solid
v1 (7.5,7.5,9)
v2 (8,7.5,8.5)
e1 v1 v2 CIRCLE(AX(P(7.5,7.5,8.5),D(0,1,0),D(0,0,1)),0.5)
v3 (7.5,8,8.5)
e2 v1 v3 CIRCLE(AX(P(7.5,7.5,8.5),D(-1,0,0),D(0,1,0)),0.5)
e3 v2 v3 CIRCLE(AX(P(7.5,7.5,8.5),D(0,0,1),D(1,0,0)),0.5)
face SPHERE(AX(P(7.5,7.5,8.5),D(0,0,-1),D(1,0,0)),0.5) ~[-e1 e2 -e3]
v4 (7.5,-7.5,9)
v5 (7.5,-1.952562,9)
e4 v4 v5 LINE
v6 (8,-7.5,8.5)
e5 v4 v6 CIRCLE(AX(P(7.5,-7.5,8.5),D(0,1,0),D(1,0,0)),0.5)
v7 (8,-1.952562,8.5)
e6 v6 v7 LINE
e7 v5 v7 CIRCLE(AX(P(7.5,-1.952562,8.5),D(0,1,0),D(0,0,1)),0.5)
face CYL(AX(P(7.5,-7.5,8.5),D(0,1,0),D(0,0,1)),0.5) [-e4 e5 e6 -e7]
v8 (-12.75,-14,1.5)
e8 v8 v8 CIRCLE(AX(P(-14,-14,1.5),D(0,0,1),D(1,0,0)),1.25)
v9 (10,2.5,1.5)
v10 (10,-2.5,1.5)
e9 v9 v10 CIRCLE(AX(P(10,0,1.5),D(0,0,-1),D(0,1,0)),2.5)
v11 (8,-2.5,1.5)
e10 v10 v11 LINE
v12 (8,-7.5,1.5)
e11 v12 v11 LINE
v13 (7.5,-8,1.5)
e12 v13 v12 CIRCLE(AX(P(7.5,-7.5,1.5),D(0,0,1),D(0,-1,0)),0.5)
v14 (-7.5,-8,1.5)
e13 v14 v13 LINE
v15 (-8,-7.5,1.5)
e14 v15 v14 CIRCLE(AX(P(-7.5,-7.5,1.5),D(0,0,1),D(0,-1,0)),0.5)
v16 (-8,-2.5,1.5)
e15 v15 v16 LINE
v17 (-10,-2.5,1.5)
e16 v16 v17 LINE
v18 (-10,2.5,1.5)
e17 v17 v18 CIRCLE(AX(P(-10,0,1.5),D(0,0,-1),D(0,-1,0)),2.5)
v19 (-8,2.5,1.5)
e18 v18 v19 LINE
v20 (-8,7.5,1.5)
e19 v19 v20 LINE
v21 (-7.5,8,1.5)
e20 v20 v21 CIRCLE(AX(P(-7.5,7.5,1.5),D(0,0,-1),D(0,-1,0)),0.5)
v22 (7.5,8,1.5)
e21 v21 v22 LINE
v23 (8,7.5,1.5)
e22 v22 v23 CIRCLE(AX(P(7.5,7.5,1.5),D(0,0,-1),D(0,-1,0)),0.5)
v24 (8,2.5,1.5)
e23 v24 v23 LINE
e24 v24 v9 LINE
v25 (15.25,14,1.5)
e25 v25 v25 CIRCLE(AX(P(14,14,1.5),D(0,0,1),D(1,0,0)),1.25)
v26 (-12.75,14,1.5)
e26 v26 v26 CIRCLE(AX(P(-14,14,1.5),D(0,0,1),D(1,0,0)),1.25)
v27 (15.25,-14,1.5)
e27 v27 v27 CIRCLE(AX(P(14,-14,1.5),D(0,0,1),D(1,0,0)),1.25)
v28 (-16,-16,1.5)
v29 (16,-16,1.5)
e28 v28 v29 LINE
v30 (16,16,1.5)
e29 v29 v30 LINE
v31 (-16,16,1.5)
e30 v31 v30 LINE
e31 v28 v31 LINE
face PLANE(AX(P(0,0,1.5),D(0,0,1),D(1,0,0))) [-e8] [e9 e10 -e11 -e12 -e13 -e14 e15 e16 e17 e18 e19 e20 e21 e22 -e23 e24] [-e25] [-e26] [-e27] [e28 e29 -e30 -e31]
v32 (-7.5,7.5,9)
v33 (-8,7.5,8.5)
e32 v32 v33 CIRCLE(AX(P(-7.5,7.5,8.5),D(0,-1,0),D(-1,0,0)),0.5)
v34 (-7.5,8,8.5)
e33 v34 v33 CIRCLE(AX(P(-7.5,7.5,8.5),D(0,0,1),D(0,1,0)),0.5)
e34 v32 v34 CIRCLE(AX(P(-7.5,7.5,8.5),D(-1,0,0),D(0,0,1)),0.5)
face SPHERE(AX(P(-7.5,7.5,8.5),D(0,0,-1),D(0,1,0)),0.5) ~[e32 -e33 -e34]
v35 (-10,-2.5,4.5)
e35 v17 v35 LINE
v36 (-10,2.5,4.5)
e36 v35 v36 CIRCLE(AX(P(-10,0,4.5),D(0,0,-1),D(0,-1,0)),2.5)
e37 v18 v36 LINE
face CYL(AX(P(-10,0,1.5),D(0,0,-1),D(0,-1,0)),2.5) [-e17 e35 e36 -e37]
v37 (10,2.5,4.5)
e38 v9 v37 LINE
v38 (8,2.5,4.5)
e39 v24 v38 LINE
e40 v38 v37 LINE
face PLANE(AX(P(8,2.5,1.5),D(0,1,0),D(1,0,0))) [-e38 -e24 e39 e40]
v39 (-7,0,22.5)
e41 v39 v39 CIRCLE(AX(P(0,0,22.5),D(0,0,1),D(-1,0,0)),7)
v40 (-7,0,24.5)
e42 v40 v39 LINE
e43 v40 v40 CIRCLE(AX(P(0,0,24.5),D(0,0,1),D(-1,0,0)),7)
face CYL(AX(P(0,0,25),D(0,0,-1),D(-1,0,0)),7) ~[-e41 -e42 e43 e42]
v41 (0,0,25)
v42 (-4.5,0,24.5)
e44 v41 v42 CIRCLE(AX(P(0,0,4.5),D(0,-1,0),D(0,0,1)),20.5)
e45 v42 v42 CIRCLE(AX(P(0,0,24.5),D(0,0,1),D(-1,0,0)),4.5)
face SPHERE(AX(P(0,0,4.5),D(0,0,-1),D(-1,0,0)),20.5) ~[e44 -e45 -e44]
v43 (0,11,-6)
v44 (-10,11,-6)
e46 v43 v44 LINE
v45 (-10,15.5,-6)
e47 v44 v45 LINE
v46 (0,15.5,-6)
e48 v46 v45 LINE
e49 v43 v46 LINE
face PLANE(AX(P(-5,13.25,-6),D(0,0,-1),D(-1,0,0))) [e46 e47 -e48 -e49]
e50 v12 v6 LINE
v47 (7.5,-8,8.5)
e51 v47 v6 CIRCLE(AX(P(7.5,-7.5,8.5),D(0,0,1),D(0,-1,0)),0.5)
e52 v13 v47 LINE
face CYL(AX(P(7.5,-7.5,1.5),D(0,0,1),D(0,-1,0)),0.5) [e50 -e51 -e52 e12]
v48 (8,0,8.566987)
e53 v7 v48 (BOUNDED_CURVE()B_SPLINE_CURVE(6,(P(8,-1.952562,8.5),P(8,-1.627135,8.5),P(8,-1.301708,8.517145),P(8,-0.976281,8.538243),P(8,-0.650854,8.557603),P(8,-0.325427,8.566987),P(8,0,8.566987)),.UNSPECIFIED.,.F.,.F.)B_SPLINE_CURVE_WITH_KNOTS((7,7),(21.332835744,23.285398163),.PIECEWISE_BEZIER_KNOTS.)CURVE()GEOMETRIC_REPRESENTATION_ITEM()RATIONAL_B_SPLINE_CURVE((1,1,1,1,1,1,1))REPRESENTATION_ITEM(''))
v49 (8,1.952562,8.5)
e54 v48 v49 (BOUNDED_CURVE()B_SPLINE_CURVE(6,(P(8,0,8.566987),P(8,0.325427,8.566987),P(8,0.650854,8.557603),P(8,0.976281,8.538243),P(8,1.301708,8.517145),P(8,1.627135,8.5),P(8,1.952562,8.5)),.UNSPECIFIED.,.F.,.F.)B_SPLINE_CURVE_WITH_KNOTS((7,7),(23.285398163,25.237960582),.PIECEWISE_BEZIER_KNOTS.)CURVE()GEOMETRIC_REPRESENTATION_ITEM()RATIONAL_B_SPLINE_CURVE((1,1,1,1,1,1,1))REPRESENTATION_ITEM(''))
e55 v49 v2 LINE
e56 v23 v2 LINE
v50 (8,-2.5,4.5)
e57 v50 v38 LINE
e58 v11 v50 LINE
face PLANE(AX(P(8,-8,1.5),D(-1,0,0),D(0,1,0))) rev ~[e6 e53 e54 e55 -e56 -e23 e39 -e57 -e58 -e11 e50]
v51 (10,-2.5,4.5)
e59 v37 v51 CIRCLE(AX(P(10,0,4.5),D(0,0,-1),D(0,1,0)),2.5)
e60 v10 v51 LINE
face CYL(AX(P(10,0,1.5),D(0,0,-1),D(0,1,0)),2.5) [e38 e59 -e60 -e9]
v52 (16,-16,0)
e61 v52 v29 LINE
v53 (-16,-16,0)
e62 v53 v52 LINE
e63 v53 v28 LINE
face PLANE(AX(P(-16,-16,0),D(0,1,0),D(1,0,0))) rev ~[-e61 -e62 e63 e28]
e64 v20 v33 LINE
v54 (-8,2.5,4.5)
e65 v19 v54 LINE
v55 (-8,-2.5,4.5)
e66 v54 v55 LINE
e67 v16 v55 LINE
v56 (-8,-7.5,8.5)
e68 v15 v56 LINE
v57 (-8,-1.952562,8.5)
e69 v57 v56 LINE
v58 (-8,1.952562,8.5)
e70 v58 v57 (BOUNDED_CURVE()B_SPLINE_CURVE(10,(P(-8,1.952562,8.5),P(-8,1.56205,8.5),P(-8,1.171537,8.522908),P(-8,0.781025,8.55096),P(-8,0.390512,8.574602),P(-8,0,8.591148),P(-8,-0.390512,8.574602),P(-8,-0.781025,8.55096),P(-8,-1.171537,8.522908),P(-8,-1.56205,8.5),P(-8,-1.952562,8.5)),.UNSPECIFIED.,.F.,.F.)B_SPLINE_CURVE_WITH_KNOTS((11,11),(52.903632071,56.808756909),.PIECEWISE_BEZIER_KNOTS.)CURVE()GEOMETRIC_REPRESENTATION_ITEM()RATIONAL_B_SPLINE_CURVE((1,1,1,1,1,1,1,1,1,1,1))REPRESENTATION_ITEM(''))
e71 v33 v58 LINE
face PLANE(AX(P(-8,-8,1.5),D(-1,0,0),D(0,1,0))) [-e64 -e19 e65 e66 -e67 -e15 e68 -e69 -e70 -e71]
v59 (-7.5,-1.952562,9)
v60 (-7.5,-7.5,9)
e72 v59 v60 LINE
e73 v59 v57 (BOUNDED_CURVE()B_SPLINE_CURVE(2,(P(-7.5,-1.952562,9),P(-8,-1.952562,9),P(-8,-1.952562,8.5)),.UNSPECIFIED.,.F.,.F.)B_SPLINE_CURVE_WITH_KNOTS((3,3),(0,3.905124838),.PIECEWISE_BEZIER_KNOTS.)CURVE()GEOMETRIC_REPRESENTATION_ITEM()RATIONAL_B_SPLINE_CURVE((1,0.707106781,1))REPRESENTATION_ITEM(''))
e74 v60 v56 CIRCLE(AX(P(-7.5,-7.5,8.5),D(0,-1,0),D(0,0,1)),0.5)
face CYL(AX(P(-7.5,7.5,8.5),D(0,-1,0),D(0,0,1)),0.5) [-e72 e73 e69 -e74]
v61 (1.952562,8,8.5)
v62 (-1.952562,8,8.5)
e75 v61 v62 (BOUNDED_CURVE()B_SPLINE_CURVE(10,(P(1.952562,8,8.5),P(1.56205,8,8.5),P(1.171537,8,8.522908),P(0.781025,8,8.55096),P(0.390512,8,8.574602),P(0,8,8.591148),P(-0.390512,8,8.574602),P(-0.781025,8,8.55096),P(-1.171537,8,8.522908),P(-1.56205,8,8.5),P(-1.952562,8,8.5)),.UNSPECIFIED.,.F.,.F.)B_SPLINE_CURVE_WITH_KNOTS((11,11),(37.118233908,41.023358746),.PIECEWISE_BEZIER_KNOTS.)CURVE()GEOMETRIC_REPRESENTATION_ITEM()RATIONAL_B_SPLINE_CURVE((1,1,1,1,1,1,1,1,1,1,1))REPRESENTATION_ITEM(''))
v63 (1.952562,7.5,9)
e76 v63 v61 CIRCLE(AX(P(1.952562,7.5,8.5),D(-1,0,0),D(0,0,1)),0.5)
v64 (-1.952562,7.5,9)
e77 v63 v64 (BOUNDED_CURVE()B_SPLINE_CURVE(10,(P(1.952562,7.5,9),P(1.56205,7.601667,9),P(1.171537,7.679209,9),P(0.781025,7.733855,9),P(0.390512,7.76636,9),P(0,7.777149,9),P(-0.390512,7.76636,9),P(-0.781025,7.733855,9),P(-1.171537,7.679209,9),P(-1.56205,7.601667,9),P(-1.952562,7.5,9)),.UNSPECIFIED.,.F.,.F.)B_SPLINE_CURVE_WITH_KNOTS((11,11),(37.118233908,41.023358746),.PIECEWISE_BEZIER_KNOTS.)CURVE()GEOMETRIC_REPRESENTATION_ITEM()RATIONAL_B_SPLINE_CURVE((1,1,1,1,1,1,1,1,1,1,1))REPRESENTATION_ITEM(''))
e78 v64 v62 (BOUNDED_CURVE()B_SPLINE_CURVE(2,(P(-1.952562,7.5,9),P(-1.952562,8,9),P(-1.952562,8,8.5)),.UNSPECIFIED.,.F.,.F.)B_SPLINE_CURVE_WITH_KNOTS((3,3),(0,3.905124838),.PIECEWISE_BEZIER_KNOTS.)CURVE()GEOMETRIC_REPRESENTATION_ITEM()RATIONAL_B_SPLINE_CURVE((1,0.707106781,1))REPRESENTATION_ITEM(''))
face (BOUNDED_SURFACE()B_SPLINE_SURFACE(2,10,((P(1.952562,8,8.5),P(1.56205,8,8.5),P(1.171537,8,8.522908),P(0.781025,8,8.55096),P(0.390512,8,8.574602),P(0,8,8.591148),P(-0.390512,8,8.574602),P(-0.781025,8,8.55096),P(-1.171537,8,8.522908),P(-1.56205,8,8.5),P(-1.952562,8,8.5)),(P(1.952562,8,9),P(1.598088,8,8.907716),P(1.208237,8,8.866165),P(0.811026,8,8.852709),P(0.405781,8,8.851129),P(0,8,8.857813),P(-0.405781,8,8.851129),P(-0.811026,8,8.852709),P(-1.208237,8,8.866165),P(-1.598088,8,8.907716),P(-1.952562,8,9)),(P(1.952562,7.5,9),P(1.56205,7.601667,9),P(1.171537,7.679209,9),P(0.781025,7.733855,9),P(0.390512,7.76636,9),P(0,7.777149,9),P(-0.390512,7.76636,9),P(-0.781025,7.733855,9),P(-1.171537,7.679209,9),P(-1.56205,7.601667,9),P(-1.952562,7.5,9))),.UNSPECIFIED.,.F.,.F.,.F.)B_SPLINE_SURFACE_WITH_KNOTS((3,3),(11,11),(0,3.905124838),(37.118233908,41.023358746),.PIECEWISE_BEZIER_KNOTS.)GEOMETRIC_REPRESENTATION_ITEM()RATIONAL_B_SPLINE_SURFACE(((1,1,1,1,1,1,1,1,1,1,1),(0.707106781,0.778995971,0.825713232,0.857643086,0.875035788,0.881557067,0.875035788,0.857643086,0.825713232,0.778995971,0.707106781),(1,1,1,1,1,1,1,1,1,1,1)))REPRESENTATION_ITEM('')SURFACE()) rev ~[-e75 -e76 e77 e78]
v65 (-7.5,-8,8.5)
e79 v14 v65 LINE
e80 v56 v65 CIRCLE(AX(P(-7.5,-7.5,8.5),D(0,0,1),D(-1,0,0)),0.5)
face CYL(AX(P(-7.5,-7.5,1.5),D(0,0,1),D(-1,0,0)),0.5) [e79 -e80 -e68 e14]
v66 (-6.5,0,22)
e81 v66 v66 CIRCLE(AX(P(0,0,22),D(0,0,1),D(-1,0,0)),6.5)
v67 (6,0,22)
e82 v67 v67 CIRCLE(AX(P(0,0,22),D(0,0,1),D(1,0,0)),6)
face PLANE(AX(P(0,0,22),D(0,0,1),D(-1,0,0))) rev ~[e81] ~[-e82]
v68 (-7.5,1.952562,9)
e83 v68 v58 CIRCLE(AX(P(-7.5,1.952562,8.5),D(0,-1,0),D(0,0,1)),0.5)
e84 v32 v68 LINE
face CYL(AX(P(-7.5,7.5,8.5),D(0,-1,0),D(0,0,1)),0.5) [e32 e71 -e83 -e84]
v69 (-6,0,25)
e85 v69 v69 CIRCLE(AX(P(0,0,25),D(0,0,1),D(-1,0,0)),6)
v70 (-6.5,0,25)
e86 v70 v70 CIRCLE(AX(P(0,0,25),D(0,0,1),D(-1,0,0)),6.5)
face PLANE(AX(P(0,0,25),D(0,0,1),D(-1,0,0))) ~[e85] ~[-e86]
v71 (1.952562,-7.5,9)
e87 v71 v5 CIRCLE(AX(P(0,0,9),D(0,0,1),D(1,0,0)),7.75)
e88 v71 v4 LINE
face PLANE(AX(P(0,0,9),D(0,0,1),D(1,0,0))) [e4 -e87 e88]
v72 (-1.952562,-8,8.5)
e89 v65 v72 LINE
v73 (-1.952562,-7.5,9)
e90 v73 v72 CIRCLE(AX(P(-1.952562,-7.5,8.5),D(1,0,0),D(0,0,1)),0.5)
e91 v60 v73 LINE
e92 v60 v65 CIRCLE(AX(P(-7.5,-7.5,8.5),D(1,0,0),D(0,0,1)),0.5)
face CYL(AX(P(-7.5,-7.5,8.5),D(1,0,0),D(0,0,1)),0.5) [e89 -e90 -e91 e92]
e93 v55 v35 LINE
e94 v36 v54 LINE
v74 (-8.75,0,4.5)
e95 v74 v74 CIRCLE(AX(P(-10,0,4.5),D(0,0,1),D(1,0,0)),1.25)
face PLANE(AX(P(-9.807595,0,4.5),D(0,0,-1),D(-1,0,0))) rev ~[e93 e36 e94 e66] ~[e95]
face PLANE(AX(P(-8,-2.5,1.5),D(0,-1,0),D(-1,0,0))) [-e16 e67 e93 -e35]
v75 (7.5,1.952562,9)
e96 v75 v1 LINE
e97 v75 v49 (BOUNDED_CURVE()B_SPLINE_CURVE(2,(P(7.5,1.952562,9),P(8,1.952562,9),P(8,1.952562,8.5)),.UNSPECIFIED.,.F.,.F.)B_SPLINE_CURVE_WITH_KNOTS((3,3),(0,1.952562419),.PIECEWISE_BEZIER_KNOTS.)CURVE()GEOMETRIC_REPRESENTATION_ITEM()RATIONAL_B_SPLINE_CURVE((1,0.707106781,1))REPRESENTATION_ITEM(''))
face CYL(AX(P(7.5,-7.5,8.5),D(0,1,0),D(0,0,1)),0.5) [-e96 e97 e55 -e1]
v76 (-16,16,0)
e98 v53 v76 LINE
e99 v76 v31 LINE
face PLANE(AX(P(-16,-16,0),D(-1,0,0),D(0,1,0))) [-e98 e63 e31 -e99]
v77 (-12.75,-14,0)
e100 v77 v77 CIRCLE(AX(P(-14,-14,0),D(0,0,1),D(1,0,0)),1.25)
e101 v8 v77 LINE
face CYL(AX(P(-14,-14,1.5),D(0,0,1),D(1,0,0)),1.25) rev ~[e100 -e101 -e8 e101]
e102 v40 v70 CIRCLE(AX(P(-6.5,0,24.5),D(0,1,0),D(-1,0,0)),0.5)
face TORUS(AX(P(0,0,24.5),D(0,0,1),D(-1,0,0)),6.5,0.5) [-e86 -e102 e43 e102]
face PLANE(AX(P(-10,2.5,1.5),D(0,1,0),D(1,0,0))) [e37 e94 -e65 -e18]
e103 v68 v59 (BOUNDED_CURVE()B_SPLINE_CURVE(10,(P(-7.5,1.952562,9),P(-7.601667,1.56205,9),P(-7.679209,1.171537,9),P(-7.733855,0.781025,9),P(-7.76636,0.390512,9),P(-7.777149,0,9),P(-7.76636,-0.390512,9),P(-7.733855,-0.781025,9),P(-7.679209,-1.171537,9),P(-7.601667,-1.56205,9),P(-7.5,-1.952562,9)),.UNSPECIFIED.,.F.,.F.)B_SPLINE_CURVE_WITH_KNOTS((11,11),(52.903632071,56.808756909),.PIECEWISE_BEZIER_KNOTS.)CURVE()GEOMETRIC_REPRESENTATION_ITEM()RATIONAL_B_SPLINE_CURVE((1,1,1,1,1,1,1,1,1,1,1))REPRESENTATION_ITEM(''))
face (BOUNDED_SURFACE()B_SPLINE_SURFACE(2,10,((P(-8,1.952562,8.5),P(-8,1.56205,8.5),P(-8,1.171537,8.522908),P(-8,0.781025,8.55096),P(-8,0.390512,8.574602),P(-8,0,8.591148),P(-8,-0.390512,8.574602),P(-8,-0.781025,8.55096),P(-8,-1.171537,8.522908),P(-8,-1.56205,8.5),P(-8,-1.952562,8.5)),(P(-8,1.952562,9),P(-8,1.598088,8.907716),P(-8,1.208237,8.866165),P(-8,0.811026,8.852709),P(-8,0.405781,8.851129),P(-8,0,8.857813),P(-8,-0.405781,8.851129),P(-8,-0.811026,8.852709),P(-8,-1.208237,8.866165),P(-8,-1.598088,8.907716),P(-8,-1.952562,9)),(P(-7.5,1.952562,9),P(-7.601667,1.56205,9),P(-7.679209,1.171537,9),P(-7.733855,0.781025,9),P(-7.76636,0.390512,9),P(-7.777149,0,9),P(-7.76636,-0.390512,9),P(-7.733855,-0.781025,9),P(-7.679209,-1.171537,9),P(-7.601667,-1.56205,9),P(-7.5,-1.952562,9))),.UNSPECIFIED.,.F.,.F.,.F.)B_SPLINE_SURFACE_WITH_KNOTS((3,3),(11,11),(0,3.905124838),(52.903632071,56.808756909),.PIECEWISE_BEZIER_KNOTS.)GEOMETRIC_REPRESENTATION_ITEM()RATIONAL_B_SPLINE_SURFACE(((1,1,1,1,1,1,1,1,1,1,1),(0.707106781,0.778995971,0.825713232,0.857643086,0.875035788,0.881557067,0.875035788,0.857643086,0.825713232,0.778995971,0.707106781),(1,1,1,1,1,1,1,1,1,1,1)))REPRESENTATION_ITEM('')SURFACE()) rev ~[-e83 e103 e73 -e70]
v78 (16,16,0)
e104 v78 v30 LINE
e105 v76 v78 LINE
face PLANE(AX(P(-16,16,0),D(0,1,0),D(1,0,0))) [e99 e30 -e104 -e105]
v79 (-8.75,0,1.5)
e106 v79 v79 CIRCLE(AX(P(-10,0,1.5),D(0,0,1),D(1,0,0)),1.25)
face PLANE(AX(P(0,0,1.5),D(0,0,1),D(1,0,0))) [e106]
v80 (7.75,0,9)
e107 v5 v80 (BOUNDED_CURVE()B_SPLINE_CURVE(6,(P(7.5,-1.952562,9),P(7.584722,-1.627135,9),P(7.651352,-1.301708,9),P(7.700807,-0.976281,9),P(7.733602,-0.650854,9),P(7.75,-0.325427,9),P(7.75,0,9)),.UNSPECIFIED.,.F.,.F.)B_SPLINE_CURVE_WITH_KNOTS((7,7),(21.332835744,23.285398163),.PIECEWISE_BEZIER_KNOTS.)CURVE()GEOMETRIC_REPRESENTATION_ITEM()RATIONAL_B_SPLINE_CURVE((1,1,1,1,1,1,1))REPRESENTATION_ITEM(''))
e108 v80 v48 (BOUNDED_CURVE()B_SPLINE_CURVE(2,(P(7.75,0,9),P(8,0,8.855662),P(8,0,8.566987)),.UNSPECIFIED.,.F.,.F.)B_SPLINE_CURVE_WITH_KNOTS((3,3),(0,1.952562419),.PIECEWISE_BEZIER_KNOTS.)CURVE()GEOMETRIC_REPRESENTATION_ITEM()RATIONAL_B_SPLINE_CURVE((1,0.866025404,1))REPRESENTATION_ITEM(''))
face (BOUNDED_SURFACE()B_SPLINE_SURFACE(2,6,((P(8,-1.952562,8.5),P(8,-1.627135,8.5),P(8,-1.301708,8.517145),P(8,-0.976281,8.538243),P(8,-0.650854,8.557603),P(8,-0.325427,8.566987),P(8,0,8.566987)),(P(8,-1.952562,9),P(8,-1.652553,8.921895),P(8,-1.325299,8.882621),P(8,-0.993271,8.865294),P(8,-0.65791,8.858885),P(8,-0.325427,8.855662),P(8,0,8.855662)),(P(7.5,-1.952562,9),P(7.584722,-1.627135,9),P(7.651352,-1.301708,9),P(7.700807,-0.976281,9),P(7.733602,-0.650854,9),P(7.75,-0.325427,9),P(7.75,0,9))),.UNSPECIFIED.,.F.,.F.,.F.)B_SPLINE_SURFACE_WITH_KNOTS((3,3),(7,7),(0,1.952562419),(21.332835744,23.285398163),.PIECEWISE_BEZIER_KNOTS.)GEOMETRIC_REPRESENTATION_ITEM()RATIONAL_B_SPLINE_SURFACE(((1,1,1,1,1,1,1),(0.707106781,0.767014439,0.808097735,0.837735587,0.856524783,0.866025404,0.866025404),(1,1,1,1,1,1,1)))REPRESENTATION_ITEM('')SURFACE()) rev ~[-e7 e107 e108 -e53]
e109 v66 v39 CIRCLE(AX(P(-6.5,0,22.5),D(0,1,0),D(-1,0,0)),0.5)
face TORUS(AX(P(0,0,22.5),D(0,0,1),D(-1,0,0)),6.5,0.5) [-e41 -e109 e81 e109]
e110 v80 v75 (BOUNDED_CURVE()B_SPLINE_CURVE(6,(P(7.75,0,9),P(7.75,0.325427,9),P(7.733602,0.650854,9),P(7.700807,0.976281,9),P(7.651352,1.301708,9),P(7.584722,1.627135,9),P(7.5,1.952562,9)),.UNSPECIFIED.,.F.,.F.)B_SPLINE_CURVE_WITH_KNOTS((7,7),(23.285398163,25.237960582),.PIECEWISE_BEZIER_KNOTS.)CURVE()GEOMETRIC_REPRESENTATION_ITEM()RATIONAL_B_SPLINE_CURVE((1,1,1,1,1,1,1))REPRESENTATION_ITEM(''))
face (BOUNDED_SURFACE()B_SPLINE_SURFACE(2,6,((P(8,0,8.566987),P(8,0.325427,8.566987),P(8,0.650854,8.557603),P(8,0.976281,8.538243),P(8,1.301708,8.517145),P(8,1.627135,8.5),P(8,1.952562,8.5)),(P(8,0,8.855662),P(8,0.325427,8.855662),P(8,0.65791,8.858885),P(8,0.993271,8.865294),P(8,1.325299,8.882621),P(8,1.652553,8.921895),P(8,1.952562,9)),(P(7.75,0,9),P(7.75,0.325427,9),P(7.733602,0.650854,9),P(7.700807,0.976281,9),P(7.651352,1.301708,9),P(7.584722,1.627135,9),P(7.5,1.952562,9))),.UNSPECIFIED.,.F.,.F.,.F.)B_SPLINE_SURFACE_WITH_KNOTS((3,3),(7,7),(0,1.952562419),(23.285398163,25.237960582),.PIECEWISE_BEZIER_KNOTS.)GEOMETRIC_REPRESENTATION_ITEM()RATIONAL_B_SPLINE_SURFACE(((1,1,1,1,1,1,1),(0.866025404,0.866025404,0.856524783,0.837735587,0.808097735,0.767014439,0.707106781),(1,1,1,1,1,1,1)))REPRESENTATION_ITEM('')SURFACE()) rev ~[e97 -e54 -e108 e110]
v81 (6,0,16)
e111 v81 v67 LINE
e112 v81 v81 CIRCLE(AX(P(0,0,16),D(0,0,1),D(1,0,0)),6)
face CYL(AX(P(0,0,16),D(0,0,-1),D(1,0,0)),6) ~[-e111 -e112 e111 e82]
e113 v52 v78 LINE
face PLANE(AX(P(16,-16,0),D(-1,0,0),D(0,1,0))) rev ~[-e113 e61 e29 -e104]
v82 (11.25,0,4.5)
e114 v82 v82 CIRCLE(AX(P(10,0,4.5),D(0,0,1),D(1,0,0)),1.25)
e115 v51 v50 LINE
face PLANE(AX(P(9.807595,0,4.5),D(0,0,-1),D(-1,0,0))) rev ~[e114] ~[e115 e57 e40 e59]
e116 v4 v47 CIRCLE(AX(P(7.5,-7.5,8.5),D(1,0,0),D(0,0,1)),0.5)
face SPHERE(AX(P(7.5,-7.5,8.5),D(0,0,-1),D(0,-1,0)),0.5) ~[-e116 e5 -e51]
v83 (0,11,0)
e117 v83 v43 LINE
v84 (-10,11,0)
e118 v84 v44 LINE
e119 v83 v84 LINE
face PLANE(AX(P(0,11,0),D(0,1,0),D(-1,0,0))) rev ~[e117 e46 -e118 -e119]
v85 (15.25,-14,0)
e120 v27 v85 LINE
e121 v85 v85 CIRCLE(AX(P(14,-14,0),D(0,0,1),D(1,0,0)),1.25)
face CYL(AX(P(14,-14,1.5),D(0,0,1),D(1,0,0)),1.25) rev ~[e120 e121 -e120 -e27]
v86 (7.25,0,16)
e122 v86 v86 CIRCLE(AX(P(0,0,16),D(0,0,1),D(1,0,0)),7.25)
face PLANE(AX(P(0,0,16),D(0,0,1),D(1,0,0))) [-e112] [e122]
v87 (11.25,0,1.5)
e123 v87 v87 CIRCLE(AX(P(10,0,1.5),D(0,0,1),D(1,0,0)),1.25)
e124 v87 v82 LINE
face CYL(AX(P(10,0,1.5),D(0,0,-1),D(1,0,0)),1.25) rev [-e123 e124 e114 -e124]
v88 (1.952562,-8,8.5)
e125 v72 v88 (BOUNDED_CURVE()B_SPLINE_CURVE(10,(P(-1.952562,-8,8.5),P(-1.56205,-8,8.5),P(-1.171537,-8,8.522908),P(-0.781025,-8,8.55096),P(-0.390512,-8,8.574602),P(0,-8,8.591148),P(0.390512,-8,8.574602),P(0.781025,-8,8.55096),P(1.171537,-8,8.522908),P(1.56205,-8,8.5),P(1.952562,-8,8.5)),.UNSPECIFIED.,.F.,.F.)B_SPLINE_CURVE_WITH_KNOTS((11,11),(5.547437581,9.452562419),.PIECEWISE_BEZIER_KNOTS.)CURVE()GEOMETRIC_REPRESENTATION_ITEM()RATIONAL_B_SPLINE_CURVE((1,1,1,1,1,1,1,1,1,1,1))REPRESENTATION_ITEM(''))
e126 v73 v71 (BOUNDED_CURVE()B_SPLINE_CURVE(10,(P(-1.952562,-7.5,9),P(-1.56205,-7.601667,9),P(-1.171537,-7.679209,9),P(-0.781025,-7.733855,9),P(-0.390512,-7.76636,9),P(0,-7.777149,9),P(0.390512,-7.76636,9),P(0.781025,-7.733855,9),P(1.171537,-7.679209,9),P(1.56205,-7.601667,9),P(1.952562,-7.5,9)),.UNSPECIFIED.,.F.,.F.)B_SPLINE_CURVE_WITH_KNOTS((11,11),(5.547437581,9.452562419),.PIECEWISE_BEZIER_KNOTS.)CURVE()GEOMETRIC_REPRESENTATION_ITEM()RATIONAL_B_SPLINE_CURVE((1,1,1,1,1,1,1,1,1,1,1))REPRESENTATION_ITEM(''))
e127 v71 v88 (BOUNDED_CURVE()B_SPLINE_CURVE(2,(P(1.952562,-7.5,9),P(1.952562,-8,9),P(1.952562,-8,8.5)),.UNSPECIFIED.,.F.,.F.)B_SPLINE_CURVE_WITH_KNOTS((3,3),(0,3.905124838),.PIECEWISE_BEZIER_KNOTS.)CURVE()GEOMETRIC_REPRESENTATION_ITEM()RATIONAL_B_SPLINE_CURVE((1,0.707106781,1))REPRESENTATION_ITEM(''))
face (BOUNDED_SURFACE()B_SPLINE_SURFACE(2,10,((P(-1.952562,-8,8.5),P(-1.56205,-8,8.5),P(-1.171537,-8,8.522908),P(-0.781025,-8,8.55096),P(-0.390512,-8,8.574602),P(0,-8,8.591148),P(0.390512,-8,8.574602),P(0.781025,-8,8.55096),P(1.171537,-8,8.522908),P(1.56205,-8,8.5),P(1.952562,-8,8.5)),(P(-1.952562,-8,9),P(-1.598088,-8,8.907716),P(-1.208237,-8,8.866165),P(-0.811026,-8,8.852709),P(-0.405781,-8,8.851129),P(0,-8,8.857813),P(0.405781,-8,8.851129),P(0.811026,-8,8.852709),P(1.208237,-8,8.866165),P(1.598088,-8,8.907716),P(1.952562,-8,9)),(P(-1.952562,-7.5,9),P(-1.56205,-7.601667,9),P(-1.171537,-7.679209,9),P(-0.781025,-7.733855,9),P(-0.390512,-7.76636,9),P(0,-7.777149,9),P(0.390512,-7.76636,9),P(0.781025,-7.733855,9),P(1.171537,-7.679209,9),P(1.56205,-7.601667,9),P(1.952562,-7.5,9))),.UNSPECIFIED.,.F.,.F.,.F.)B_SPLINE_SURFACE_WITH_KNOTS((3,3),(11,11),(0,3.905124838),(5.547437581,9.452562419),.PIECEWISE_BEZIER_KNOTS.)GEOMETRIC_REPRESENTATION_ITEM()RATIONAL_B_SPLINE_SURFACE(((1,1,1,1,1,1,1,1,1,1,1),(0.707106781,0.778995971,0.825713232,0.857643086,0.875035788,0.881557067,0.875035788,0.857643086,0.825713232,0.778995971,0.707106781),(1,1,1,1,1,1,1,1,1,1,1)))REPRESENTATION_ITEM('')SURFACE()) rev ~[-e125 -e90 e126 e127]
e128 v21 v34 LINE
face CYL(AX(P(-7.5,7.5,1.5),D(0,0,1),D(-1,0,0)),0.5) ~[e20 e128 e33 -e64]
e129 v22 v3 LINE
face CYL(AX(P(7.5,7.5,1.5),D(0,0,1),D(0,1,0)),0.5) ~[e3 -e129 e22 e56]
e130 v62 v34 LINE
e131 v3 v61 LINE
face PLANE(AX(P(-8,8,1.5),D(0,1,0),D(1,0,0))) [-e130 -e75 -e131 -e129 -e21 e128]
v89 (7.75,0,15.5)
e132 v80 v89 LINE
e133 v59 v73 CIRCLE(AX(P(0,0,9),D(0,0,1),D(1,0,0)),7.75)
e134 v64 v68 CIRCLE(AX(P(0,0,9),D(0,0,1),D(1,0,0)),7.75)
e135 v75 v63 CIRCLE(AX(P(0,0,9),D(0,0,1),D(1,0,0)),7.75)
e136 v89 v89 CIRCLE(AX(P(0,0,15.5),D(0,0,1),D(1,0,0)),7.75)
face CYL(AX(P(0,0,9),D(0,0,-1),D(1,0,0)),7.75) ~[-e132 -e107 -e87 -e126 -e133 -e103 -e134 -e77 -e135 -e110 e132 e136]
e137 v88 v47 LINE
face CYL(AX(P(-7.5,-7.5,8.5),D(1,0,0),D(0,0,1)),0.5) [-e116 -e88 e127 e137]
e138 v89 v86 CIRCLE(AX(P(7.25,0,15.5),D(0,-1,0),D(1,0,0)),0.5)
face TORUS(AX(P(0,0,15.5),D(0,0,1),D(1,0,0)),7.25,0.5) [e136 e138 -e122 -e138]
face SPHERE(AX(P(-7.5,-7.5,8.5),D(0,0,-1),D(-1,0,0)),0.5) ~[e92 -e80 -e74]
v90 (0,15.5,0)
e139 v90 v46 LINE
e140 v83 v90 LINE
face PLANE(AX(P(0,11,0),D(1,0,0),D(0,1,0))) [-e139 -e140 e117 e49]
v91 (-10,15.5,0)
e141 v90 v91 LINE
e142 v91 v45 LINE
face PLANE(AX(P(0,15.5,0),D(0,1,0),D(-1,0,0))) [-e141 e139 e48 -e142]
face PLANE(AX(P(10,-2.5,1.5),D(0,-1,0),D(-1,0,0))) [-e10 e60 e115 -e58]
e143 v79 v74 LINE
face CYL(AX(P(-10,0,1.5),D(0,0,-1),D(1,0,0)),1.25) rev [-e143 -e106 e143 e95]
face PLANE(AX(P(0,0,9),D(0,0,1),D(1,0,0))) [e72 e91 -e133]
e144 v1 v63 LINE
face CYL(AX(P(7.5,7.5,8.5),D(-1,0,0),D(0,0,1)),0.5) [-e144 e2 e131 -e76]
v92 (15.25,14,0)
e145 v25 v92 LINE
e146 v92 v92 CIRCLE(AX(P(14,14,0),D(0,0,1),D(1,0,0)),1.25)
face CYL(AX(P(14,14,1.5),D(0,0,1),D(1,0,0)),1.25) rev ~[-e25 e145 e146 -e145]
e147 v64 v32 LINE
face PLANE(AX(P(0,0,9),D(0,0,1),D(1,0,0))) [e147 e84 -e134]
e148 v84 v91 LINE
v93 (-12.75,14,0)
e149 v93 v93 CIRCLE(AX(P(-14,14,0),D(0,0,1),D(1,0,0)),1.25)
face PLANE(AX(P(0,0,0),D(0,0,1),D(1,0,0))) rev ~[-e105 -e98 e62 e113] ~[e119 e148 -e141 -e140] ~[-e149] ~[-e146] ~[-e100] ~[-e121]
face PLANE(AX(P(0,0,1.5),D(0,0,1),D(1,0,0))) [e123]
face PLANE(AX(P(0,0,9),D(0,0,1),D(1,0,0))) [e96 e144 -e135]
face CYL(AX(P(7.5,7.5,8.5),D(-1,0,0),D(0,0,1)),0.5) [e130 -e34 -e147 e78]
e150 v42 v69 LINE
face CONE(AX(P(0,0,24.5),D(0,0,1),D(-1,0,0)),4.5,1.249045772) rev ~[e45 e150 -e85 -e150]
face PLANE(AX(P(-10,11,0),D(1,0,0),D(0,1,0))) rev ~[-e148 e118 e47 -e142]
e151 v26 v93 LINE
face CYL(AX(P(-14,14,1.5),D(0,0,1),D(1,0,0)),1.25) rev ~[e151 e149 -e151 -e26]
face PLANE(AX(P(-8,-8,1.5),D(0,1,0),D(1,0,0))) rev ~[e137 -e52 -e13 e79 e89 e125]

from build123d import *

# Parameters (mm, degrees)
SKETCH1_W           = 32
SKETCH1_H           = 32
BOSS_EXTRUDE1_DEPTH = 1.5
SKETCH2_R           = 1.25
CUT_EXTRUDE1_DEPTH  = 2.5
SKETCH3_W           = 16
SKETCH3_H           = 16
BOSS_EXTRUDE2_DEPTH = 7.5
SKETCH4_R           = 1.25
BOSS_EXTRUDE3_DEPTH = 3
SKETCH5_R           = 7.75
BOSS_EXTRUDE4_DEPTH = 7
SKETCH6_R           = 6
BOSS_EXTRUDE5_DEPTH = 6
SKETCH9_W           = 10
SKETCH9_H           = 4.5
BOSS_EXTRUDE6_DEPTH = 6
FILLET1_R           = 0.5
FILLET2_R           = 0.5


with BuildPart() as part:
    # Sketch1 → Boss-Extrude1 (new body)
    with BuildSketch(Plane.XY):
        Rectangle(SKETCH1_W, SKETCH1_H)
    extrude(amount=BOSS_EXTRUDE1_DEPTH)

    # Sketch2 → Cut-Extrude1 (cut, through all)
    with BuildSketch(Plane.XY.offset(1.5)):
        with Locations((-14, 14)):
            Circle(SKETCH2_R)
        with Locations((14, 14)):
            Circle(SKETCH2_R)
        with Locations((14, -14)):
            Circle(SKETCH2_R)
        with Locations((-14, -14)):
            Circle(SKETCH2_R)
    extrude(amount=-CUT_EXTRUDE1_DEPTH, mode=Mode.SUBTRACT)

    # Sketch3 → Boss-Extrude2 (add)
    with BuildSketch(Plane.XY.offset(1.5)):
        Rectangle(SKETCH3_W, SKETCH3_H)
    extrude(amount=BOSS_EXTRUDE2_DEPTH)

    # Sketch4 → Boss-Extrude3 (add)
    with BuildSketch(Plane.XY.offset(1.5)):
        with BuildLine():
            Line((-10, 2.5), (-8, 2.5))
            Line((-8, 2.5), (-8, -2.5))
            Line((-8, -2.5), (-10, -2.5))
            ThreePointArc((-10, -2.5), (-12.5, 0), (-10, 2.5))
        make_face()
        with Locations((-10, 0)):
            Circle(SKETCH4_R, mode=Mode.SUBTRACT)
        with BuildLine():
            Line((10, -2.5), (8, -2.5))
            Line((8, -2.5), (8, 2.5))
            Line((8, 2.5), (10, 2.5))
            ThreePointArc((10, 2.5), (12.5, 0), (10, -2.5))
        make_face()
        with Locations((10, 0)):
            Circle(SKETCH4_R, mode=Mode.SUBTRACT)
    extrude(amount=BOSS_EXTRUDE3_DEPTH)

    # Sketch5 → Boss-Extrude4 (add)
    with BuildSketch(Plane.XY.offset(9)):
        Circle(SKETCH5_R)
    extrude(amount=BOSS_EXTRUDE4_DEPTH)

    # Sketch6 → Boss-Extrude5 (add)
    with BuildSketch(Plane.XY.offset(16)):
        Circle(SKETCH6_R)
    extrude(amount=BOSS_EXTRUDE5_DEPTH)

    # Sketch8 → Revolve1 (revolve)
    with BuildSketch(Plane(origin=(0, 0, 0), x_dir=(1, 0, 0), z_dir=(0, 1, 0))):
        with BuildLine():
            ThreePointArc((0, -25), (-2.263846285, -24.874616561), (-4.5, -24.5))
            Line((-4.5, -24.5), (-6, -25))
            Line((-6, -25), (-7, -25))
            Line((-7, -25), (-7, -22))
            Line((-7, -22), (0, -22))
            Line((0, -22), (0, -25))
        make_face()
    revolve(axis=Axis((0, 0, 22), (0, 0, 1)))

    # Sketch9 → Boss-Extrude6 (add)
    with BuildSketch(Plane(origin=(0, 0, 0), x_dir=(-1, 0, 0), z_dir=(0, 0, -1))):
        with Locations((5, 13.25)):
            Rectangle(SKETCH9_W, SKETCH9_H)
    extrude(amount=BOSS_EXTRUDE6_DEPTH)

    # Fillet1
    fillet1_edges = [part.edges().sort_by_distance(p)[0] for p in [
        (-8, 8, 5.25),
        (-8, -8, 5.25),
        (8, -8, 5.25),
        (8, 8, 5.25),
    ]]
    fillet(fillet1_edges, radius=FILLET1_R)

    # Fillet2
    fillet2_edges = [part.edges().sort_by_distance(p)[0] for p in [
        (0, -8, 9),
        (-8, 0, 9),
        (8, 0, 9),
        (0, 8, 9),
        (7.853553391, 7.853553391, 9),
        (7.853553391, -7.853553391, 9),
        (-7.853553391, 7.853553391, 9),
        (-7.853553391, -7.853553391, 9),
        (-7.75, 0, 16),
        (7, 0, 22),
        (7, 0, 25),
    ]]
    fillet(fillet2_edges, radius=FILLET2_R)


solid = part.part
